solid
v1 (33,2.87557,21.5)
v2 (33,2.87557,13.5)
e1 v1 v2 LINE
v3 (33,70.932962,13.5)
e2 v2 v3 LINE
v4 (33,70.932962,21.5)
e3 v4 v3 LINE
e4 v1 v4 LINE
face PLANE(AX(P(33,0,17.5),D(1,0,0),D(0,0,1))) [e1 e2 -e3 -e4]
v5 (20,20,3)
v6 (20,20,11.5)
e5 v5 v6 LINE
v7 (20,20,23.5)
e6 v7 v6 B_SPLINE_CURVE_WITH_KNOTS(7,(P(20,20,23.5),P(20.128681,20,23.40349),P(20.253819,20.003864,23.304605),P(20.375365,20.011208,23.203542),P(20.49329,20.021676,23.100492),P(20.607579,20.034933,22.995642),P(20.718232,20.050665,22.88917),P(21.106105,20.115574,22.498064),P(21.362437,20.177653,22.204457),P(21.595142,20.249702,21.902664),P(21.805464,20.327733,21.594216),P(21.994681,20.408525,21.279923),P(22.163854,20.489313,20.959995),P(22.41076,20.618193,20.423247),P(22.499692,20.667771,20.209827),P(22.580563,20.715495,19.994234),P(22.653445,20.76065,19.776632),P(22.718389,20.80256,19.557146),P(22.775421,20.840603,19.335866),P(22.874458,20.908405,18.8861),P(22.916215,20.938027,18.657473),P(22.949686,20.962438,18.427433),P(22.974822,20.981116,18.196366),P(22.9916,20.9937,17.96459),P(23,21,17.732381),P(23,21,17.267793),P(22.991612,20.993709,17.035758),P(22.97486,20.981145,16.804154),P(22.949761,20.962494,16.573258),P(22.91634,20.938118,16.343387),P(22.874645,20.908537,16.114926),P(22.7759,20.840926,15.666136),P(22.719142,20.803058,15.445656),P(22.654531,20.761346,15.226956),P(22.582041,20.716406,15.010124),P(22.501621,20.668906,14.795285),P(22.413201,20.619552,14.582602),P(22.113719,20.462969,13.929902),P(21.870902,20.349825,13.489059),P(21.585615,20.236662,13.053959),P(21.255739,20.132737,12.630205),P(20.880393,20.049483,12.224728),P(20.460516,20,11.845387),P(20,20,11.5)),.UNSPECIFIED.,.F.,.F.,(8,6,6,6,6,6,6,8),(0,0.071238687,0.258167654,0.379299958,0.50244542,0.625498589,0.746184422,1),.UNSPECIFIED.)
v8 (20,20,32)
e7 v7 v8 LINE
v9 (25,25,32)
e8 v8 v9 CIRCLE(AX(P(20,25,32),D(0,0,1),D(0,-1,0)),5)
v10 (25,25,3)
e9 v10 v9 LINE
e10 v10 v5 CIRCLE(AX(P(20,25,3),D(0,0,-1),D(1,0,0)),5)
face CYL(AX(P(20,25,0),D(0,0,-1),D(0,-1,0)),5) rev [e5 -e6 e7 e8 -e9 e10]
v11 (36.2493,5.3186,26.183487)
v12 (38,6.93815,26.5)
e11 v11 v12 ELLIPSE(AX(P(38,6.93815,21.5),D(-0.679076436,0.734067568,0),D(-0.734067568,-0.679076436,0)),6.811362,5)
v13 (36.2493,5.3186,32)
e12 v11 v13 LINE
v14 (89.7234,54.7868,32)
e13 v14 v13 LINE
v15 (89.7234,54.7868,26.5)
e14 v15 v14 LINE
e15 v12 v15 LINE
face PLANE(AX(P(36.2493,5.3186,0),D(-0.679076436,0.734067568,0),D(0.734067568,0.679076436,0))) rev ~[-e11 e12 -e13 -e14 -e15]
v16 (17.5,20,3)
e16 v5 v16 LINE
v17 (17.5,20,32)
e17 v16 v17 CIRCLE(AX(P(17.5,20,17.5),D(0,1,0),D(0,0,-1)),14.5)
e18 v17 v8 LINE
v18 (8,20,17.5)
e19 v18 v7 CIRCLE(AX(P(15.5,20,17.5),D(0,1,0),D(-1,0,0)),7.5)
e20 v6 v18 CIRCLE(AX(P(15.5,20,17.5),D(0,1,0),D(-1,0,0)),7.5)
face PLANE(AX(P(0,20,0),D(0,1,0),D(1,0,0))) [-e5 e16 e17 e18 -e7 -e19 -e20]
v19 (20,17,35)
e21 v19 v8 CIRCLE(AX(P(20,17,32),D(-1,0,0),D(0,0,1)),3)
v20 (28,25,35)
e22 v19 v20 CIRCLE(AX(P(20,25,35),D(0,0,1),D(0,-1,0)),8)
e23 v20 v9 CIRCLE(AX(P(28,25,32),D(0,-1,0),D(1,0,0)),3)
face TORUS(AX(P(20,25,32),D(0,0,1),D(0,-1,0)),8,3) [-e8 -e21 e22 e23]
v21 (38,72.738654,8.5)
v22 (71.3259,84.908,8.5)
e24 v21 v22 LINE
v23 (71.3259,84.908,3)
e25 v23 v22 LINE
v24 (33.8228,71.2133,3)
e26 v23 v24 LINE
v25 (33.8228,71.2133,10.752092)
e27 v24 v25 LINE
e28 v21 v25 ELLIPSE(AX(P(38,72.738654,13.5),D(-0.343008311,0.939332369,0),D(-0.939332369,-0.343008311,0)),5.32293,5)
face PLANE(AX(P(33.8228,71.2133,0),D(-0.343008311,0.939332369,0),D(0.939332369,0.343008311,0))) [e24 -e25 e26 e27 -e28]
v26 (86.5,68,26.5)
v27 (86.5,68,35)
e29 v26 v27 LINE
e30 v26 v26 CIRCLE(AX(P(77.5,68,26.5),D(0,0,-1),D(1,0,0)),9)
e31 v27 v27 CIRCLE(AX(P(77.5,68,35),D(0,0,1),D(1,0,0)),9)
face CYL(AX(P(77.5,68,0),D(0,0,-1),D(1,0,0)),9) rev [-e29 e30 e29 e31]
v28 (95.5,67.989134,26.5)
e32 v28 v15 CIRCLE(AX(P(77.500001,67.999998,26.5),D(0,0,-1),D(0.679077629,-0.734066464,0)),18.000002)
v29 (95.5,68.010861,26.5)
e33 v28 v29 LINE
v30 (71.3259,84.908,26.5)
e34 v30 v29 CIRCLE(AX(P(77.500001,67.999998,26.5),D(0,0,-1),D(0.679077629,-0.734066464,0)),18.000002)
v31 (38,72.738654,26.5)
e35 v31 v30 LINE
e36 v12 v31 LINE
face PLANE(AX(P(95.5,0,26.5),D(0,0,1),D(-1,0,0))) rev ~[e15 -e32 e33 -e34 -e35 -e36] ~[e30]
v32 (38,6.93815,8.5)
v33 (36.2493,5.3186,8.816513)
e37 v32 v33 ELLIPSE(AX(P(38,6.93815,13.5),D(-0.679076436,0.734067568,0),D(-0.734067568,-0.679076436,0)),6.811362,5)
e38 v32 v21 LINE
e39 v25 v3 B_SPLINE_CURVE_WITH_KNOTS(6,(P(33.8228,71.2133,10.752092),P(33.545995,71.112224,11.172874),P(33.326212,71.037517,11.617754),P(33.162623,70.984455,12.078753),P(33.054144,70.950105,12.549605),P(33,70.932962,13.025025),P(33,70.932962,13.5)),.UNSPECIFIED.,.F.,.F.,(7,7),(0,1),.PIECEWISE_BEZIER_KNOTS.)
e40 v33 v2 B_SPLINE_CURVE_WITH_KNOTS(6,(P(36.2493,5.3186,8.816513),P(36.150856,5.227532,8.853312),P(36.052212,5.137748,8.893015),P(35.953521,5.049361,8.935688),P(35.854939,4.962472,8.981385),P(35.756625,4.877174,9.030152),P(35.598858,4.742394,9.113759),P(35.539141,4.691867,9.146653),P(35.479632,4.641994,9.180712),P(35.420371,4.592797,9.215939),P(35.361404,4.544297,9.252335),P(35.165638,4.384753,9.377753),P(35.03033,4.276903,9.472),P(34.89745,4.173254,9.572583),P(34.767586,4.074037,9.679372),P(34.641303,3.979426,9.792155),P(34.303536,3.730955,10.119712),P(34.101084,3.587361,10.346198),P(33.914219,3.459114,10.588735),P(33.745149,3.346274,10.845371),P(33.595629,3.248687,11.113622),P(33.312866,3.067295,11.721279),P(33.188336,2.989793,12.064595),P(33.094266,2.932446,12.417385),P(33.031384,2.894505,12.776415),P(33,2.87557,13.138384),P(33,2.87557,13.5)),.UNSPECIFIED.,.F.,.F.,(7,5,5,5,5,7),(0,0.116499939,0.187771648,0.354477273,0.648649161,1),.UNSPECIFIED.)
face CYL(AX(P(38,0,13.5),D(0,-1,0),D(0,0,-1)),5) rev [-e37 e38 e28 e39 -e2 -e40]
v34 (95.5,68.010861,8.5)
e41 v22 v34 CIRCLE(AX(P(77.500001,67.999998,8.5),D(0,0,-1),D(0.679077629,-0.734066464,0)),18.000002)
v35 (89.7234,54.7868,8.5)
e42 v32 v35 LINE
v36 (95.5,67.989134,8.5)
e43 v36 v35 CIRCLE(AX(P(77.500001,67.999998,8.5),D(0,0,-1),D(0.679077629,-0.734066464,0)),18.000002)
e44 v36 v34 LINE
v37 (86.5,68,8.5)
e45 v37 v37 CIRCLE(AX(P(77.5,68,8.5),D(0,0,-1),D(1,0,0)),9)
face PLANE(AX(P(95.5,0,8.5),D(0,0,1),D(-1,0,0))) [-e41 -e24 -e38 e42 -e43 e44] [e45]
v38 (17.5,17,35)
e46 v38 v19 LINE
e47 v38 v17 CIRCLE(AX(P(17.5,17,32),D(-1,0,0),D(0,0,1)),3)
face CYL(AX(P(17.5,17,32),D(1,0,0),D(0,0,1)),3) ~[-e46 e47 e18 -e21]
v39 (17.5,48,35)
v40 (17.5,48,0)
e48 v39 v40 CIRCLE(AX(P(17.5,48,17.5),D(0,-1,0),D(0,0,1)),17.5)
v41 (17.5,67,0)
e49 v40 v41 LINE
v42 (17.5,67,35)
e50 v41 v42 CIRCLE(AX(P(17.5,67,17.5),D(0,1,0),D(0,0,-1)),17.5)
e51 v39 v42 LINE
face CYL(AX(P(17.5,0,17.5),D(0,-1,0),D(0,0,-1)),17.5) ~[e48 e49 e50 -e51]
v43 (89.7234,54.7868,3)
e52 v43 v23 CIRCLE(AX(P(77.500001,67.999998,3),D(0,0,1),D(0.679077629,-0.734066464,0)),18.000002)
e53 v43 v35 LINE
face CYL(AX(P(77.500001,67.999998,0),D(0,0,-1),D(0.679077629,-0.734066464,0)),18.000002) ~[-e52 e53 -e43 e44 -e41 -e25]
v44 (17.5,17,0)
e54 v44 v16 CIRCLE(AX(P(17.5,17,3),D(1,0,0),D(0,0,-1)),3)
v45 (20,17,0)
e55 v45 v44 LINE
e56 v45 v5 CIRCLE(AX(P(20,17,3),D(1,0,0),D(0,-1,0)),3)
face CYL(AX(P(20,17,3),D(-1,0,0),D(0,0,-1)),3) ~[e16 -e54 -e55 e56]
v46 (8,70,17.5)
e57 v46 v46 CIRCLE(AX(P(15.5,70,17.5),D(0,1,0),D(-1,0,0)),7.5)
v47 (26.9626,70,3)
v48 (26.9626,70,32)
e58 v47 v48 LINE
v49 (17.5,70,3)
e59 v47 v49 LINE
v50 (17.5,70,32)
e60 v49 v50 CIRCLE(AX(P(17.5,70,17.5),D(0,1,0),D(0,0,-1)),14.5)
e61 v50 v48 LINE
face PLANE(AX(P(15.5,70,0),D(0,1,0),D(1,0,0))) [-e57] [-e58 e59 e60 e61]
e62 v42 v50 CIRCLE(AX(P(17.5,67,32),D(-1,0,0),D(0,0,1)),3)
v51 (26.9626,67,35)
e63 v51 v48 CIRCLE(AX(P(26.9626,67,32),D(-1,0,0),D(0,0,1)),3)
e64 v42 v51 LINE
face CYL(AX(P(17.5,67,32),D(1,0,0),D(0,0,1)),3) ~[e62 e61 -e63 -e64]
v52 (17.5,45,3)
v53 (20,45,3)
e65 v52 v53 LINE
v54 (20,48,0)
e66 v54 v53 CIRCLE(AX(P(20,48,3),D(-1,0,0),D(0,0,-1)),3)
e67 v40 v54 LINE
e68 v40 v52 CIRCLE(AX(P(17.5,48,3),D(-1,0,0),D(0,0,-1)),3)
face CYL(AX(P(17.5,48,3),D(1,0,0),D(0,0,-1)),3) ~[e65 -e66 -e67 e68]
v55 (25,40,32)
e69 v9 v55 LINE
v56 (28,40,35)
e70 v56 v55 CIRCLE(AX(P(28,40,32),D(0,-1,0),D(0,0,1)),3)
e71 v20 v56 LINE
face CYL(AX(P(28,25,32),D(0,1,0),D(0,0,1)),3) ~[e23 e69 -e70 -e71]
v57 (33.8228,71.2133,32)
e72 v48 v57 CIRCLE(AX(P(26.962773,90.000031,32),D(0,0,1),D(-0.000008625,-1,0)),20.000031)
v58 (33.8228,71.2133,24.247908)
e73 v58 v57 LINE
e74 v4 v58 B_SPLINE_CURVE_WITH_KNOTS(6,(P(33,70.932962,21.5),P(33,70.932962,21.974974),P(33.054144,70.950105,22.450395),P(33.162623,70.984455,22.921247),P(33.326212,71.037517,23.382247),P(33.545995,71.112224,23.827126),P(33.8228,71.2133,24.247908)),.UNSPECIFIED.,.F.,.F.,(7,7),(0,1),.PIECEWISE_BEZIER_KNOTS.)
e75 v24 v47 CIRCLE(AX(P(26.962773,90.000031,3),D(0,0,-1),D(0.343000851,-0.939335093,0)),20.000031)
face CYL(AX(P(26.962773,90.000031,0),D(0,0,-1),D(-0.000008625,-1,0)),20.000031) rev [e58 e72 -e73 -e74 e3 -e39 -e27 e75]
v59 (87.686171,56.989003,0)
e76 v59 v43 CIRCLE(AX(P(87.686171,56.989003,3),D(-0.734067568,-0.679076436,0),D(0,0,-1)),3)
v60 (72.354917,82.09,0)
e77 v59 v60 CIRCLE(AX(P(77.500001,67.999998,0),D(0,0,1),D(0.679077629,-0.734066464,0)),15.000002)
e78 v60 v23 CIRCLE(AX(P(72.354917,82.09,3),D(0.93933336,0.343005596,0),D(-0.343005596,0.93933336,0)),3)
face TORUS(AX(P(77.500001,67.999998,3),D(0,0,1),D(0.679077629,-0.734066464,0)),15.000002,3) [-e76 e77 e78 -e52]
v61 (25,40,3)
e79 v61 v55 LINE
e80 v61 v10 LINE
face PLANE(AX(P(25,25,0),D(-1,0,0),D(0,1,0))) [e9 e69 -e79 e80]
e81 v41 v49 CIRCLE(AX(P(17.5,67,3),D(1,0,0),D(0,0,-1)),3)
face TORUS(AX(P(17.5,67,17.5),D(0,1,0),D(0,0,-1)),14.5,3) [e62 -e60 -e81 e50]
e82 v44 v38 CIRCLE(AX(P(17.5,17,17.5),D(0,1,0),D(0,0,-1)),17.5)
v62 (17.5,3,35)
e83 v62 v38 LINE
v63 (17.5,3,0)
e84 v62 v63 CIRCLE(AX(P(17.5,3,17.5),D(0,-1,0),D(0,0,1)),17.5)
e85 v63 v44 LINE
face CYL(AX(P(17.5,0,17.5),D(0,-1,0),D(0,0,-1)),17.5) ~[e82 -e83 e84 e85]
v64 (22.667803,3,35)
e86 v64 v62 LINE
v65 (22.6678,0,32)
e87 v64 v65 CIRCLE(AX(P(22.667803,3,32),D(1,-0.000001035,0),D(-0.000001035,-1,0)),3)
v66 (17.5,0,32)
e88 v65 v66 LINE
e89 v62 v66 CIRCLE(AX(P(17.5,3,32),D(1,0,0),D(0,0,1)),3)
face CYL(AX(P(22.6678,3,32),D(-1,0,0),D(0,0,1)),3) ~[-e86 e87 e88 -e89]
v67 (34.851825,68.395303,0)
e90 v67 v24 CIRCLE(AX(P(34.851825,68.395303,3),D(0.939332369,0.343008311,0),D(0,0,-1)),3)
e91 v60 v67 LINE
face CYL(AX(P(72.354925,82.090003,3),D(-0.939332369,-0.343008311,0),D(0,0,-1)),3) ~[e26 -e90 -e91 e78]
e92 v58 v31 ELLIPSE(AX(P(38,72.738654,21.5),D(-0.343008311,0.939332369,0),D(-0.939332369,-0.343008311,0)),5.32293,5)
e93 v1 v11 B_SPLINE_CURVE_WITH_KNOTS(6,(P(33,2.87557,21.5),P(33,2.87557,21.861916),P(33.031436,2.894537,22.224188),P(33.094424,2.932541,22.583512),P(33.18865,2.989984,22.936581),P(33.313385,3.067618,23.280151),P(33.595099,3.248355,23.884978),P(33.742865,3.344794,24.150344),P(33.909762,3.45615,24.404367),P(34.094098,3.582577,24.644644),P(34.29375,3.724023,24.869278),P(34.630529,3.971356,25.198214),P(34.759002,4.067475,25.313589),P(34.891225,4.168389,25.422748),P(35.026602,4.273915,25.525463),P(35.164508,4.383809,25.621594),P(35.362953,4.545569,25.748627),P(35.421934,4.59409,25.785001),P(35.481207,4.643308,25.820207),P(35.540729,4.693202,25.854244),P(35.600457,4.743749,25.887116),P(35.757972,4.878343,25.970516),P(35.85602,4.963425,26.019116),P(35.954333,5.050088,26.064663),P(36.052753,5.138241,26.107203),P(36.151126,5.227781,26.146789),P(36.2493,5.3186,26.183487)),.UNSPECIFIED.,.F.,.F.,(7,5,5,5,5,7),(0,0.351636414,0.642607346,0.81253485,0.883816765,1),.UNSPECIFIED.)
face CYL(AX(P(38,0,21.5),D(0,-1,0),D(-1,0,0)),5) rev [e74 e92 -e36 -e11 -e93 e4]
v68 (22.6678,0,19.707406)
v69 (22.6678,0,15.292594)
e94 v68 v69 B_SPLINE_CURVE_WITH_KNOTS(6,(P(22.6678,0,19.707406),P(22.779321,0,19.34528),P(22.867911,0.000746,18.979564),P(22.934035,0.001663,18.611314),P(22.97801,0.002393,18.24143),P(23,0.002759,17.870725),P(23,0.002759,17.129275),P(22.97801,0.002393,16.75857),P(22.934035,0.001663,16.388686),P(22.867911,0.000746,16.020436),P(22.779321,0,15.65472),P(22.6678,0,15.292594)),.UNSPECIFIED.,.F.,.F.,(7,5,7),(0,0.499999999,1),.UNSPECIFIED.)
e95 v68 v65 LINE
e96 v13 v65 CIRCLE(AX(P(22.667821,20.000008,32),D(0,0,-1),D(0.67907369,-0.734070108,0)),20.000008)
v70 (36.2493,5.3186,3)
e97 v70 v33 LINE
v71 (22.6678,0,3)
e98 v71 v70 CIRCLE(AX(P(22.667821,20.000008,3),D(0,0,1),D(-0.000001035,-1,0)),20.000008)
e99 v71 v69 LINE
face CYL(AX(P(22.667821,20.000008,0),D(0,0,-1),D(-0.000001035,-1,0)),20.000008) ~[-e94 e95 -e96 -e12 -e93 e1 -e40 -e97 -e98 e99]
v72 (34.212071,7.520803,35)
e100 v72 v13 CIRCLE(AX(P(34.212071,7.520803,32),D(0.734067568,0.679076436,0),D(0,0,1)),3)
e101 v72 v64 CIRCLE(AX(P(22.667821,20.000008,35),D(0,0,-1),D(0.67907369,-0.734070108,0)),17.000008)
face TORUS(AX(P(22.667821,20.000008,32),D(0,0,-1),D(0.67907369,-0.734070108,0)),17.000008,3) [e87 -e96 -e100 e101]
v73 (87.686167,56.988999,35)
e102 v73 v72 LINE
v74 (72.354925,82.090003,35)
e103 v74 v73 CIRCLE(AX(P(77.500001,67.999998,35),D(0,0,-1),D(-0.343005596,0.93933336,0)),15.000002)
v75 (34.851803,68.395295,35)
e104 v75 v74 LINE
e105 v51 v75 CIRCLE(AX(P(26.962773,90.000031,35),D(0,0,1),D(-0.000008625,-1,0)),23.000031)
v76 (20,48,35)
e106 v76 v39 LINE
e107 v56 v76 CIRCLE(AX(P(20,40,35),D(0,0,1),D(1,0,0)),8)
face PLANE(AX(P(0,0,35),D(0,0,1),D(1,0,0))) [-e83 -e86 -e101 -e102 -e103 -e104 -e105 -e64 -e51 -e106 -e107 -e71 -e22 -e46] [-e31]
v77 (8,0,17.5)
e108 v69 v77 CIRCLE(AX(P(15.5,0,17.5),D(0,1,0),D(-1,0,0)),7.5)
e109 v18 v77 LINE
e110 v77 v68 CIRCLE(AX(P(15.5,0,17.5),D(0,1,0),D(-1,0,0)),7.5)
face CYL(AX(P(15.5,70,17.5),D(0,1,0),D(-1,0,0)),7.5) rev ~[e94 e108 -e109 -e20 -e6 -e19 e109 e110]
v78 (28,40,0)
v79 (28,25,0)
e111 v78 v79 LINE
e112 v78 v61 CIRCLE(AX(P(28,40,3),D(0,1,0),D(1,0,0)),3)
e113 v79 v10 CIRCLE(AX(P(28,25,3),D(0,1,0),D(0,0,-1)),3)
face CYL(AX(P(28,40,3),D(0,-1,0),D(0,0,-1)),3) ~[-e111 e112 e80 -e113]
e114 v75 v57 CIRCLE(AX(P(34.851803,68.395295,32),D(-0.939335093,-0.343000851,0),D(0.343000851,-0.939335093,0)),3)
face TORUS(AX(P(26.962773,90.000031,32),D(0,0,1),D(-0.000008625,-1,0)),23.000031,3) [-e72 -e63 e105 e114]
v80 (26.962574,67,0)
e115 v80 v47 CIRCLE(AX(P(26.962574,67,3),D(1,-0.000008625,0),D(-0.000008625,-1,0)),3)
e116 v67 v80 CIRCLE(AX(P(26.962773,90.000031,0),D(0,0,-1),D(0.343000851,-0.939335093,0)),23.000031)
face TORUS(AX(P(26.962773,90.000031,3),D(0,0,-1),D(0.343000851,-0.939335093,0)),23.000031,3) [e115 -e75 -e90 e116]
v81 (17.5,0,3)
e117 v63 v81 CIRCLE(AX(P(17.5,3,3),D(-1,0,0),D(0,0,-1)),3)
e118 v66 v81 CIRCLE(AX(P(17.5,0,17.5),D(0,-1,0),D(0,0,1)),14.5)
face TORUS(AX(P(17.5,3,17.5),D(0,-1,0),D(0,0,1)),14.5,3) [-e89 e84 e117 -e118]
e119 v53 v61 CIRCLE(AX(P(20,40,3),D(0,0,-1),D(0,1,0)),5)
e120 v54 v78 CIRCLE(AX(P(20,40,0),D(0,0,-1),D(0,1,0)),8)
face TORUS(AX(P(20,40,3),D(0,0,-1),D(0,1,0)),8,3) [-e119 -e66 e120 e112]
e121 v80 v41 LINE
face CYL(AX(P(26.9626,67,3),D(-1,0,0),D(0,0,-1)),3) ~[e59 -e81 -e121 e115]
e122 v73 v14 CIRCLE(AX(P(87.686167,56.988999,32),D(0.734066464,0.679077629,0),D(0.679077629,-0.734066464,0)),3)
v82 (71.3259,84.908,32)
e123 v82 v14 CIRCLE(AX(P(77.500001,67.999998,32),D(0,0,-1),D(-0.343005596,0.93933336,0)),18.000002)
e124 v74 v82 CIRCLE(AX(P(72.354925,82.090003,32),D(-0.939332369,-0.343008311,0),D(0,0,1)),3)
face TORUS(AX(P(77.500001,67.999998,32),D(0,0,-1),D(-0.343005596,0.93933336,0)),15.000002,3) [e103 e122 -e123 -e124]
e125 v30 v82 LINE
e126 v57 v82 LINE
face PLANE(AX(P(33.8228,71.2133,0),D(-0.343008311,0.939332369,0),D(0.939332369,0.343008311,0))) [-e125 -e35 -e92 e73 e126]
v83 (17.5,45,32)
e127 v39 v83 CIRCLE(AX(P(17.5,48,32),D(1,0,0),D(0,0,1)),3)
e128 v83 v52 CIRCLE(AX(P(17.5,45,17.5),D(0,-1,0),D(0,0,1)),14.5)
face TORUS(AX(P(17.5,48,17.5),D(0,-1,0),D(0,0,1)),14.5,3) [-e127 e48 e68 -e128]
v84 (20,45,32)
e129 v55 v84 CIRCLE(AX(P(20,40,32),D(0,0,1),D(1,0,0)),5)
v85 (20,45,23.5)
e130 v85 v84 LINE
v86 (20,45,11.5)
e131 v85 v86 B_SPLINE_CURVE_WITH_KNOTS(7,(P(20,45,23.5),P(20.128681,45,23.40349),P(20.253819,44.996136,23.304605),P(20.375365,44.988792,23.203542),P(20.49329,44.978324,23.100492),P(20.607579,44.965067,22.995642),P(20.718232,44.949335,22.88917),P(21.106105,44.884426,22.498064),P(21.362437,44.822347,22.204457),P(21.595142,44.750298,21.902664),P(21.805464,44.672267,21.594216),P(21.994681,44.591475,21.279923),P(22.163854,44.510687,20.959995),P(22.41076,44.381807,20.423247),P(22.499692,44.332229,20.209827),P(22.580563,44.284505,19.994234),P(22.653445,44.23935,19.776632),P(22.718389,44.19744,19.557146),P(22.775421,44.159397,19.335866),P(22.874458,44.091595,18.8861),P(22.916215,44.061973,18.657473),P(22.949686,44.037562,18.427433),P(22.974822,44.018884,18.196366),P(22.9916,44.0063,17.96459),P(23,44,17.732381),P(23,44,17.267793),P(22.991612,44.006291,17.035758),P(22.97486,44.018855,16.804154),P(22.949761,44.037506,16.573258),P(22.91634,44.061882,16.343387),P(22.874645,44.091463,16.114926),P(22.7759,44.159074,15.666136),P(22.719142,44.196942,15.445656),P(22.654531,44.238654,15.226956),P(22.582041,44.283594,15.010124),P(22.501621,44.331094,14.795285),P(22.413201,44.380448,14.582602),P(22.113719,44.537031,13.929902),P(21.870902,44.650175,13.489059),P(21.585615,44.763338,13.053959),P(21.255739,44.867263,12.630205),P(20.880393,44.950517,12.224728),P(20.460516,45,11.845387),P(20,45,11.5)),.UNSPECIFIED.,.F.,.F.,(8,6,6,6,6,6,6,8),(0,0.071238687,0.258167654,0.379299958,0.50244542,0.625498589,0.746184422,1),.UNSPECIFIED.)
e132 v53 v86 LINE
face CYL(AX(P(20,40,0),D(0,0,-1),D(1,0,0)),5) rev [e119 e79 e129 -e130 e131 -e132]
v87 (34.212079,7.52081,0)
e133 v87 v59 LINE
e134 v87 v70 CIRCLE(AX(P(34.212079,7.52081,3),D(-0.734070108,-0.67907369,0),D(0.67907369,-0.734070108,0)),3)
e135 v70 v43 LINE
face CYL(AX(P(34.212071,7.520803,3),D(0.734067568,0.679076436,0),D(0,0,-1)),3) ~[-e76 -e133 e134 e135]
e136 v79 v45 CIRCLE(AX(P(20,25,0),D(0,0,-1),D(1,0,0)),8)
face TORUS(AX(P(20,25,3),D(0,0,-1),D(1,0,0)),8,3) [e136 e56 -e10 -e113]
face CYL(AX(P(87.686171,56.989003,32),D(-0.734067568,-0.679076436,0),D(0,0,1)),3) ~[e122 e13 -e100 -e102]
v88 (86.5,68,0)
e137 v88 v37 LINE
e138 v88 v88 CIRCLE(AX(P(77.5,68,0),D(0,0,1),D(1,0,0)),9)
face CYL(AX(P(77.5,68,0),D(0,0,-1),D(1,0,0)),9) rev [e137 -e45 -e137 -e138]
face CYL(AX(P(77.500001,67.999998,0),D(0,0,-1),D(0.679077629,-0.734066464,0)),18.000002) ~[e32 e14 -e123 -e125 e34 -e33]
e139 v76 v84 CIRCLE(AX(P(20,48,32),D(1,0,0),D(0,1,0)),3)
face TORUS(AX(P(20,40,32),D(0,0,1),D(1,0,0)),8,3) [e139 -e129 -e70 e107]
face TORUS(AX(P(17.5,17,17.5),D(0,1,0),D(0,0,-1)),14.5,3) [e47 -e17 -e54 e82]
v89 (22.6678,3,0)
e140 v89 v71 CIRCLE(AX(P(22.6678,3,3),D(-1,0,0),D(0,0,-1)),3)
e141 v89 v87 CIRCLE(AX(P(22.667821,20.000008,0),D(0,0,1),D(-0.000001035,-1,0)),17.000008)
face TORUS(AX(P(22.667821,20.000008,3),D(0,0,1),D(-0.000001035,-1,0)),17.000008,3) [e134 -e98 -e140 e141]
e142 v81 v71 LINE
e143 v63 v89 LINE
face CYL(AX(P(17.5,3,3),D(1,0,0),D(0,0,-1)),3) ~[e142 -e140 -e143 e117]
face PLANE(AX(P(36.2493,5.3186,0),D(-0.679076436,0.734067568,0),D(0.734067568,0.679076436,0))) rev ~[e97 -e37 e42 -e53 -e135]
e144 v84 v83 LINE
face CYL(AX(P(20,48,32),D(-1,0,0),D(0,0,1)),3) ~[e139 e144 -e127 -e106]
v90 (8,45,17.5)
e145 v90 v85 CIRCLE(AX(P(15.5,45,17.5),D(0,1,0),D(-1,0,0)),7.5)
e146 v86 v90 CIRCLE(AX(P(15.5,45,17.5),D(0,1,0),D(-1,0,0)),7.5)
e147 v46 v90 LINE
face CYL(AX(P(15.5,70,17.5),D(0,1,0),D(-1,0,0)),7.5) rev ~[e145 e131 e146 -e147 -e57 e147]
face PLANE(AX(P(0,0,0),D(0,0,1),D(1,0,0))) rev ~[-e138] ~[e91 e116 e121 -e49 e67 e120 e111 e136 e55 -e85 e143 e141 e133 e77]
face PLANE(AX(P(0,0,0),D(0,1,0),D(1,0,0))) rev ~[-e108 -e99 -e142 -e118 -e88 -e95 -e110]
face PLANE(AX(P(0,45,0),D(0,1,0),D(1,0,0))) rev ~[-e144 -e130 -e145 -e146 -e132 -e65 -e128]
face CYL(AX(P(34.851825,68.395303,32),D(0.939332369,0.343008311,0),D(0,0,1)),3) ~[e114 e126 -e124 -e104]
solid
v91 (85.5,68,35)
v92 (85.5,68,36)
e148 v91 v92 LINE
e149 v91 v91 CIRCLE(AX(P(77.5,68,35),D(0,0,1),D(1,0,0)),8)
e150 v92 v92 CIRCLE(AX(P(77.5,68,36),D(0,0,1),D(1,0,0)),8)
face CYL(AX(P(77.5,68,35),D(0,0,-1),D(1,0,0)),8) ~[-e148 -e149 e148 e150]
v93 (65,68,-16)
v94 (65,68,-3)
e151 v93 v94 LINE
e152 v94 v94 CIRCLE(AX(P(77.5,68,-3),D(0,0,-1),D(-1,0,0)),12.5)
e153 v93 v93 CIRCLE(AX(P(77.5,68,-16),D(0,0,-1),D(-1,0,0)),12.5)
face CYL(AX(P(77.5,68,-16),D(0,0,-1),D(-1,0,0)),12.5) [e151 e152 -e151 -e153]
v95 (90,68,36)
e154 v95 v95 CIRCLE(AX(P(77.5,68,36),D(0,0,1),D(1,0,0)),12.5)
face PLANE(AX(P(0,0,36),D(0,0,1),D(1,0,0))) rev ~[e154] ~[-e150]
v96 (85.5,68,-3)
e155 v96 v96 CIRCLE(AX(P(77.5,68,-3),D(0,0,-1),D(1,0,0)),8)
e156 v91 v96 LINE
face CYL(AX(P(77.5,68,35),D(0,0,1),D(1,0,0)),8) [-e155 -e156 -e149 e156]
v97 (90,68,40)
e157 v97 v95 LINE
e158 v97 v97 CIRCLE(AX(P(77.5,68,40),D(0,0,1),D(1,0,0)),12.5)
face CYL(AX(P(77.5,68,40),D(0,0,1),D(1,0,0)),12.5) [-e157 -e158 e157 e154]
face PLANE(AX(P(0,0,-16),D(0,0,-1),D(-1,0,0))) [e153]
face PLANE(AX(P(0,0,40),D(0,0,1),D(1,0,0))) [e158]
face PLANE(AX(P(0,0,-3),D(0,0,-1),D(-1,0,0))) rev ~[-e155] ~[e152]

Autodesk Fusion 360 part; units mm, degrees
sketch "Sketch1" plane through (0, 0, 0) normal (0, 0, 1) x (1, 0, 0)
  line L0 (0, 0) -> (0, 70) construction
  line L1 (0, 0) -> (15.5, 0)
  line L2 (15.5, 0) -> (22.6678, 0)
  line L3 (0, 70) -> (15.5, 70)
  line L4 (15.5, 70) -> (77.5, 70) construction
  line L5 (77.5, 70) -> (77.5, 68) construction
  circle A0 centre (77.5, 68) radius 9
  line L6 (15.5, 70) -> (26.9626, 70)
  line L7 (33.8228, 71.2133) -> (71.3259, 84.908)
  arc A1 (26.9626, 70) -> (33.8228, 71.2133) centre (26.9626, 90) ccw
  line L8 (36.2493, 5.3186) -> (89.7234, 54.7868)
  arc A2 (89.7234, 54.7868) -> (71.3259, 84.908) centre (77.5, 68) ccw
  arc A3 (22.6678, 0) -> (36.2493, 5.3186) centre (22.6678, 20) ccw
  line L9 (77.5, 70) -> (77.5, -60) construction
  line L10 (25, 70) -> (25, 25) construction
  line L11 (0, 0) -> (0, 20)
  line L12 (0, 70) -> (0, 45)
  line L13 (0, 45) -> (20, 45)
  line L14 (0, 20) -> (20, 20)
  line L15 (25, 20) -> (25, 40)
  arc A4 (25, 40) -> (20, 45) centre (20, 40) ccw
  arc A5 (20, 20) -> (25, 25) centre (20, 25) ccw
  point P0 (30.5, 0)
  point P1 (30.5, 70)
  dimension "d1" = 70
  dimension "d2" = 15.5
  dimension "d3" = 15
  dimension "d4" = 15.5
  dimension "d5" = 62
  dimension "d6" = 2
  dimension "d7" = 18
  dimension "d8" = 36
  dimension "d9" = 15
  dimension "d10" = 20
  dimension "d11" = 20
  dimension "d13" = 20
  dimension "d14" = 25
  dimension "d24" = 5
  dimension "d25" = 5
extrude "Extrude1" add sketch "Sketch1" along normal blind 35 makes body 1
sketch "Sketch2" plane through (0, 0, 0) normal (0, 1, 0) x (1, 0, 0)
  line L0 (0, 0) -> (0, -35) construction
  line L1 (0, -17.5) -> (17.5, -17.5) construction
  line L2 (22.6678, 0) -> (36.2493, 0) construction
  line L3 (36.2493, 0) -> (36.2493, -35) construction
  line L4 (22.6678, -35) -> (36.2493, -35) construction
  line L5 (22.6678, -35) -> (22.6678, 0) construction
  line L6 (36.2493, 0) -> (89.7234, 0) construction
  line L7 (89.7234, 0) -> (89.7234, -35) construction
  line L8 (89.7234, -35) -> (36.2493, -35) construction
  line L9 (36.2493, -35) -> (36.2493, 0) construction
  line L10 (71.3259, 0) -> (95.5, 0) construction
  line L11 (71.3259, 0) -> (71.3259, -35) construction
  line L12 (71.3259, -35) -> (95.5, -35) construction
  line L13 (89.7234, -35) -> (89.7234, 0) construction
  line L14 (17.5, -35) -> (95.5, -35)
  line L15 (17.5, 0) -> (95.5, 0)
  line L16 (95.5, 0) -> (95.5, -8.5)
  line L17 (95.5, -35) -> (95.5, -26.5)
  arc A0 (17.5, 0) -> (17.5, -35) centre (17.5, -17.5) ccw
  line L18 (86.5, -35) -> (68.5, -35)
  line L19 (86.5, 0) -> (68.5, 0)
  line L20 (68.5, -35) -> (86.5, 0) construction
  line L21 (86.5, -35) -> (68.5, 0) construction
  line L22 (77.5, -17.5) -> (33, -17.5) construction
  line L23 (95.5, -26.5) -> (38, -26.5)
  line L24 (95.5, -8.5) -> (38, -8.5)
  line L25 (33, -17.5) -> (33, -13.5)
  line L26 (33, -17.5) -> (33, -21.5)
  arc A1 (33, -21.5) -> (38, -26.5) centre (38, -21.5) ccw
  arc A2 (38, -8.5) -> (33, -13.5) centre (38, -13.5) ccw
  line L27 (95.5, -8.5) -> (95.5, -26.5)
  line L28 (22.6678, 0) -> (0, 0)
  line L29 (0, 0) -> (0, -35)
  line L30 (22.6678, -35) -> (0, -35)
  point P0 (0, -35)
  dimension "d17" = 17.5
  dimension "d18" = 8.5
  dimension "d19" = 8.5
  dimension "d20" = 44.5
  dimension "d21" = 5
  dimension "d22" = 5
extrude "Extrude2" cut sketch "Sketch2" along normal through all contours A0 L29 L30 | A0 L28 L29 | L23 L24 L25 L26 A1 A2 L27 bodies 1
sketch "Sketch3" plane through (0, 70, 0) normal (0, 1, 0) x (-1, 0, 0)
  arc A0 (-17.5, 0) -> (-17.5, 35) centre (-17.5, 17.5) ccw
  line L0 (-17.5, 35) -> (-26.9626, 35)
  line L1 (-26.9626, 35) -> (-26.9626, 0)
  line L2 (-26.9626, 0) -> (-17.5, 0)
  line L3 (0, 17.5) -> (-15.5, 17.5) construction
  circle A1 centre (-15.5, 17.5) radius 7.5
  dimension "d26" = 15.5
  dimension "d27" = 15
extrude "Extrude3" cut sketch "Sketch3" against normal through all contours A1 bodies 1
fillet "Fillet1" radius 3 28 edges at (18.75, 45, 0) (0, 45, 17.5) (18.75, 45, 35) (23.5355, 43.5355, 35) (25, 32.5, 35) (23.5355, 21.4645, 35) (18.75, 20, 35) (0, 20, 17.5) (18.75, 20, 0) (23.5355, 21.4645, 0) (25, 32.5, 0) (23.5355, 43.5355, 0) (22.2313, 70, 35) (30.4459, 70.3057, 35) (52.5743, 78.0607, 35) (92.8613, 77.3824, 35) (62.9864, 30.0527, 35) (29.9607, 1.3771, 35) (20.0839, 0, 35) (0, 0, 17.5) (20.0839, 0, 0) (29.9607, 1.3771, 0) (62.9864, 30.0527, 0) (92.8613, 77.3824, 0) (52.5743, 78.0607, 0) (30.4459, 70.3057, 0) (22.2313, 70, 0) (0, 70, 17.5) on bodies 1
sketch "Sketch4" plane through (0, 0, 35) normal (0, 0, 1) x (1, 0, 0)
  circle A0 centre (77.5, 68) radius 9
  line L0 (17.5, 3) -> (22.6678, 3)
  arc A1 (22.6678, 3) -> (34.2121, 7.5209) centre (22.6678, 20) ccw
  line L1 (34.2121, 7.5209) -> (87.6861, 56.989)
  arc A2 (87.6861, 56.989) -> (72.3549, 82.09) centre (77.5, 68) ccw
  line L2 (72.3549, 82.09) -> (34.8518, 68.3953)
  arc A3 (26.9626, 67) -> (34.8518, 68.3953) centre (26.9626, 90) ccw
  line L3 (26.9626, 67) -> (17.5, 67)
  line L4 (17.5, 67) -> (17.5, 48)
  line L5 (17.5, 48) -> (20, 48)
  arc A4 (28, 40) -> (20, 48) centre (20, 40) ccw
  line L6 (28, 40) -> (28, 25)
  arc A5 (20, 17) -> (28, 25) centre (20, 25) ccw
  line L7 (20, 17) -> (17.5, 17)
  line L8 (17.5, 17) -> (17.5, 3)
  circle A6 centre (77.5, 68) radius 9
  circle A7 centre (77.5, 68) radius 8
  dimension "d30" = 16
extrude "Extrude4" add sketch "Sketch4" along normal blind 5 and the other way blind 51 separate body contours A7 makes body 2
sketch "Sketch5" plane through (0, 0, 40) normal (0, 0, 1) x (1, 0, 0)
  circle A0 centre (77.5, 68) radius 8
  circle A1 centre (77.5, 68) radius 8
  circle A2 centre (77.5, 68) radius 8
  circle A3 centre (77.5, 68) radius 8
  circle A4 centre (77.5, 68) radius 12.5
  dimension "d35" = 25
extrude "Extrude5" add sketch "Sketch5" against normal blind 4 bodies 2
sketch "Sketch6" plane through (0, 0, -16) normal (0, 0, -1) x (-1, 0, 0)
  circle A0 centre (-77.5, 68) radius 8
  circle A1 centre (-77.5, 68) radius 8
  circle A2 centre (-77.5, 68) radius 12.5
  dimension "d38" = 25
extrude "Extrude6" add sketch "Sketch6" against normal blind 13 bodies 2
equation "d8 = ( 18 * 2 ) * 1 mm"
